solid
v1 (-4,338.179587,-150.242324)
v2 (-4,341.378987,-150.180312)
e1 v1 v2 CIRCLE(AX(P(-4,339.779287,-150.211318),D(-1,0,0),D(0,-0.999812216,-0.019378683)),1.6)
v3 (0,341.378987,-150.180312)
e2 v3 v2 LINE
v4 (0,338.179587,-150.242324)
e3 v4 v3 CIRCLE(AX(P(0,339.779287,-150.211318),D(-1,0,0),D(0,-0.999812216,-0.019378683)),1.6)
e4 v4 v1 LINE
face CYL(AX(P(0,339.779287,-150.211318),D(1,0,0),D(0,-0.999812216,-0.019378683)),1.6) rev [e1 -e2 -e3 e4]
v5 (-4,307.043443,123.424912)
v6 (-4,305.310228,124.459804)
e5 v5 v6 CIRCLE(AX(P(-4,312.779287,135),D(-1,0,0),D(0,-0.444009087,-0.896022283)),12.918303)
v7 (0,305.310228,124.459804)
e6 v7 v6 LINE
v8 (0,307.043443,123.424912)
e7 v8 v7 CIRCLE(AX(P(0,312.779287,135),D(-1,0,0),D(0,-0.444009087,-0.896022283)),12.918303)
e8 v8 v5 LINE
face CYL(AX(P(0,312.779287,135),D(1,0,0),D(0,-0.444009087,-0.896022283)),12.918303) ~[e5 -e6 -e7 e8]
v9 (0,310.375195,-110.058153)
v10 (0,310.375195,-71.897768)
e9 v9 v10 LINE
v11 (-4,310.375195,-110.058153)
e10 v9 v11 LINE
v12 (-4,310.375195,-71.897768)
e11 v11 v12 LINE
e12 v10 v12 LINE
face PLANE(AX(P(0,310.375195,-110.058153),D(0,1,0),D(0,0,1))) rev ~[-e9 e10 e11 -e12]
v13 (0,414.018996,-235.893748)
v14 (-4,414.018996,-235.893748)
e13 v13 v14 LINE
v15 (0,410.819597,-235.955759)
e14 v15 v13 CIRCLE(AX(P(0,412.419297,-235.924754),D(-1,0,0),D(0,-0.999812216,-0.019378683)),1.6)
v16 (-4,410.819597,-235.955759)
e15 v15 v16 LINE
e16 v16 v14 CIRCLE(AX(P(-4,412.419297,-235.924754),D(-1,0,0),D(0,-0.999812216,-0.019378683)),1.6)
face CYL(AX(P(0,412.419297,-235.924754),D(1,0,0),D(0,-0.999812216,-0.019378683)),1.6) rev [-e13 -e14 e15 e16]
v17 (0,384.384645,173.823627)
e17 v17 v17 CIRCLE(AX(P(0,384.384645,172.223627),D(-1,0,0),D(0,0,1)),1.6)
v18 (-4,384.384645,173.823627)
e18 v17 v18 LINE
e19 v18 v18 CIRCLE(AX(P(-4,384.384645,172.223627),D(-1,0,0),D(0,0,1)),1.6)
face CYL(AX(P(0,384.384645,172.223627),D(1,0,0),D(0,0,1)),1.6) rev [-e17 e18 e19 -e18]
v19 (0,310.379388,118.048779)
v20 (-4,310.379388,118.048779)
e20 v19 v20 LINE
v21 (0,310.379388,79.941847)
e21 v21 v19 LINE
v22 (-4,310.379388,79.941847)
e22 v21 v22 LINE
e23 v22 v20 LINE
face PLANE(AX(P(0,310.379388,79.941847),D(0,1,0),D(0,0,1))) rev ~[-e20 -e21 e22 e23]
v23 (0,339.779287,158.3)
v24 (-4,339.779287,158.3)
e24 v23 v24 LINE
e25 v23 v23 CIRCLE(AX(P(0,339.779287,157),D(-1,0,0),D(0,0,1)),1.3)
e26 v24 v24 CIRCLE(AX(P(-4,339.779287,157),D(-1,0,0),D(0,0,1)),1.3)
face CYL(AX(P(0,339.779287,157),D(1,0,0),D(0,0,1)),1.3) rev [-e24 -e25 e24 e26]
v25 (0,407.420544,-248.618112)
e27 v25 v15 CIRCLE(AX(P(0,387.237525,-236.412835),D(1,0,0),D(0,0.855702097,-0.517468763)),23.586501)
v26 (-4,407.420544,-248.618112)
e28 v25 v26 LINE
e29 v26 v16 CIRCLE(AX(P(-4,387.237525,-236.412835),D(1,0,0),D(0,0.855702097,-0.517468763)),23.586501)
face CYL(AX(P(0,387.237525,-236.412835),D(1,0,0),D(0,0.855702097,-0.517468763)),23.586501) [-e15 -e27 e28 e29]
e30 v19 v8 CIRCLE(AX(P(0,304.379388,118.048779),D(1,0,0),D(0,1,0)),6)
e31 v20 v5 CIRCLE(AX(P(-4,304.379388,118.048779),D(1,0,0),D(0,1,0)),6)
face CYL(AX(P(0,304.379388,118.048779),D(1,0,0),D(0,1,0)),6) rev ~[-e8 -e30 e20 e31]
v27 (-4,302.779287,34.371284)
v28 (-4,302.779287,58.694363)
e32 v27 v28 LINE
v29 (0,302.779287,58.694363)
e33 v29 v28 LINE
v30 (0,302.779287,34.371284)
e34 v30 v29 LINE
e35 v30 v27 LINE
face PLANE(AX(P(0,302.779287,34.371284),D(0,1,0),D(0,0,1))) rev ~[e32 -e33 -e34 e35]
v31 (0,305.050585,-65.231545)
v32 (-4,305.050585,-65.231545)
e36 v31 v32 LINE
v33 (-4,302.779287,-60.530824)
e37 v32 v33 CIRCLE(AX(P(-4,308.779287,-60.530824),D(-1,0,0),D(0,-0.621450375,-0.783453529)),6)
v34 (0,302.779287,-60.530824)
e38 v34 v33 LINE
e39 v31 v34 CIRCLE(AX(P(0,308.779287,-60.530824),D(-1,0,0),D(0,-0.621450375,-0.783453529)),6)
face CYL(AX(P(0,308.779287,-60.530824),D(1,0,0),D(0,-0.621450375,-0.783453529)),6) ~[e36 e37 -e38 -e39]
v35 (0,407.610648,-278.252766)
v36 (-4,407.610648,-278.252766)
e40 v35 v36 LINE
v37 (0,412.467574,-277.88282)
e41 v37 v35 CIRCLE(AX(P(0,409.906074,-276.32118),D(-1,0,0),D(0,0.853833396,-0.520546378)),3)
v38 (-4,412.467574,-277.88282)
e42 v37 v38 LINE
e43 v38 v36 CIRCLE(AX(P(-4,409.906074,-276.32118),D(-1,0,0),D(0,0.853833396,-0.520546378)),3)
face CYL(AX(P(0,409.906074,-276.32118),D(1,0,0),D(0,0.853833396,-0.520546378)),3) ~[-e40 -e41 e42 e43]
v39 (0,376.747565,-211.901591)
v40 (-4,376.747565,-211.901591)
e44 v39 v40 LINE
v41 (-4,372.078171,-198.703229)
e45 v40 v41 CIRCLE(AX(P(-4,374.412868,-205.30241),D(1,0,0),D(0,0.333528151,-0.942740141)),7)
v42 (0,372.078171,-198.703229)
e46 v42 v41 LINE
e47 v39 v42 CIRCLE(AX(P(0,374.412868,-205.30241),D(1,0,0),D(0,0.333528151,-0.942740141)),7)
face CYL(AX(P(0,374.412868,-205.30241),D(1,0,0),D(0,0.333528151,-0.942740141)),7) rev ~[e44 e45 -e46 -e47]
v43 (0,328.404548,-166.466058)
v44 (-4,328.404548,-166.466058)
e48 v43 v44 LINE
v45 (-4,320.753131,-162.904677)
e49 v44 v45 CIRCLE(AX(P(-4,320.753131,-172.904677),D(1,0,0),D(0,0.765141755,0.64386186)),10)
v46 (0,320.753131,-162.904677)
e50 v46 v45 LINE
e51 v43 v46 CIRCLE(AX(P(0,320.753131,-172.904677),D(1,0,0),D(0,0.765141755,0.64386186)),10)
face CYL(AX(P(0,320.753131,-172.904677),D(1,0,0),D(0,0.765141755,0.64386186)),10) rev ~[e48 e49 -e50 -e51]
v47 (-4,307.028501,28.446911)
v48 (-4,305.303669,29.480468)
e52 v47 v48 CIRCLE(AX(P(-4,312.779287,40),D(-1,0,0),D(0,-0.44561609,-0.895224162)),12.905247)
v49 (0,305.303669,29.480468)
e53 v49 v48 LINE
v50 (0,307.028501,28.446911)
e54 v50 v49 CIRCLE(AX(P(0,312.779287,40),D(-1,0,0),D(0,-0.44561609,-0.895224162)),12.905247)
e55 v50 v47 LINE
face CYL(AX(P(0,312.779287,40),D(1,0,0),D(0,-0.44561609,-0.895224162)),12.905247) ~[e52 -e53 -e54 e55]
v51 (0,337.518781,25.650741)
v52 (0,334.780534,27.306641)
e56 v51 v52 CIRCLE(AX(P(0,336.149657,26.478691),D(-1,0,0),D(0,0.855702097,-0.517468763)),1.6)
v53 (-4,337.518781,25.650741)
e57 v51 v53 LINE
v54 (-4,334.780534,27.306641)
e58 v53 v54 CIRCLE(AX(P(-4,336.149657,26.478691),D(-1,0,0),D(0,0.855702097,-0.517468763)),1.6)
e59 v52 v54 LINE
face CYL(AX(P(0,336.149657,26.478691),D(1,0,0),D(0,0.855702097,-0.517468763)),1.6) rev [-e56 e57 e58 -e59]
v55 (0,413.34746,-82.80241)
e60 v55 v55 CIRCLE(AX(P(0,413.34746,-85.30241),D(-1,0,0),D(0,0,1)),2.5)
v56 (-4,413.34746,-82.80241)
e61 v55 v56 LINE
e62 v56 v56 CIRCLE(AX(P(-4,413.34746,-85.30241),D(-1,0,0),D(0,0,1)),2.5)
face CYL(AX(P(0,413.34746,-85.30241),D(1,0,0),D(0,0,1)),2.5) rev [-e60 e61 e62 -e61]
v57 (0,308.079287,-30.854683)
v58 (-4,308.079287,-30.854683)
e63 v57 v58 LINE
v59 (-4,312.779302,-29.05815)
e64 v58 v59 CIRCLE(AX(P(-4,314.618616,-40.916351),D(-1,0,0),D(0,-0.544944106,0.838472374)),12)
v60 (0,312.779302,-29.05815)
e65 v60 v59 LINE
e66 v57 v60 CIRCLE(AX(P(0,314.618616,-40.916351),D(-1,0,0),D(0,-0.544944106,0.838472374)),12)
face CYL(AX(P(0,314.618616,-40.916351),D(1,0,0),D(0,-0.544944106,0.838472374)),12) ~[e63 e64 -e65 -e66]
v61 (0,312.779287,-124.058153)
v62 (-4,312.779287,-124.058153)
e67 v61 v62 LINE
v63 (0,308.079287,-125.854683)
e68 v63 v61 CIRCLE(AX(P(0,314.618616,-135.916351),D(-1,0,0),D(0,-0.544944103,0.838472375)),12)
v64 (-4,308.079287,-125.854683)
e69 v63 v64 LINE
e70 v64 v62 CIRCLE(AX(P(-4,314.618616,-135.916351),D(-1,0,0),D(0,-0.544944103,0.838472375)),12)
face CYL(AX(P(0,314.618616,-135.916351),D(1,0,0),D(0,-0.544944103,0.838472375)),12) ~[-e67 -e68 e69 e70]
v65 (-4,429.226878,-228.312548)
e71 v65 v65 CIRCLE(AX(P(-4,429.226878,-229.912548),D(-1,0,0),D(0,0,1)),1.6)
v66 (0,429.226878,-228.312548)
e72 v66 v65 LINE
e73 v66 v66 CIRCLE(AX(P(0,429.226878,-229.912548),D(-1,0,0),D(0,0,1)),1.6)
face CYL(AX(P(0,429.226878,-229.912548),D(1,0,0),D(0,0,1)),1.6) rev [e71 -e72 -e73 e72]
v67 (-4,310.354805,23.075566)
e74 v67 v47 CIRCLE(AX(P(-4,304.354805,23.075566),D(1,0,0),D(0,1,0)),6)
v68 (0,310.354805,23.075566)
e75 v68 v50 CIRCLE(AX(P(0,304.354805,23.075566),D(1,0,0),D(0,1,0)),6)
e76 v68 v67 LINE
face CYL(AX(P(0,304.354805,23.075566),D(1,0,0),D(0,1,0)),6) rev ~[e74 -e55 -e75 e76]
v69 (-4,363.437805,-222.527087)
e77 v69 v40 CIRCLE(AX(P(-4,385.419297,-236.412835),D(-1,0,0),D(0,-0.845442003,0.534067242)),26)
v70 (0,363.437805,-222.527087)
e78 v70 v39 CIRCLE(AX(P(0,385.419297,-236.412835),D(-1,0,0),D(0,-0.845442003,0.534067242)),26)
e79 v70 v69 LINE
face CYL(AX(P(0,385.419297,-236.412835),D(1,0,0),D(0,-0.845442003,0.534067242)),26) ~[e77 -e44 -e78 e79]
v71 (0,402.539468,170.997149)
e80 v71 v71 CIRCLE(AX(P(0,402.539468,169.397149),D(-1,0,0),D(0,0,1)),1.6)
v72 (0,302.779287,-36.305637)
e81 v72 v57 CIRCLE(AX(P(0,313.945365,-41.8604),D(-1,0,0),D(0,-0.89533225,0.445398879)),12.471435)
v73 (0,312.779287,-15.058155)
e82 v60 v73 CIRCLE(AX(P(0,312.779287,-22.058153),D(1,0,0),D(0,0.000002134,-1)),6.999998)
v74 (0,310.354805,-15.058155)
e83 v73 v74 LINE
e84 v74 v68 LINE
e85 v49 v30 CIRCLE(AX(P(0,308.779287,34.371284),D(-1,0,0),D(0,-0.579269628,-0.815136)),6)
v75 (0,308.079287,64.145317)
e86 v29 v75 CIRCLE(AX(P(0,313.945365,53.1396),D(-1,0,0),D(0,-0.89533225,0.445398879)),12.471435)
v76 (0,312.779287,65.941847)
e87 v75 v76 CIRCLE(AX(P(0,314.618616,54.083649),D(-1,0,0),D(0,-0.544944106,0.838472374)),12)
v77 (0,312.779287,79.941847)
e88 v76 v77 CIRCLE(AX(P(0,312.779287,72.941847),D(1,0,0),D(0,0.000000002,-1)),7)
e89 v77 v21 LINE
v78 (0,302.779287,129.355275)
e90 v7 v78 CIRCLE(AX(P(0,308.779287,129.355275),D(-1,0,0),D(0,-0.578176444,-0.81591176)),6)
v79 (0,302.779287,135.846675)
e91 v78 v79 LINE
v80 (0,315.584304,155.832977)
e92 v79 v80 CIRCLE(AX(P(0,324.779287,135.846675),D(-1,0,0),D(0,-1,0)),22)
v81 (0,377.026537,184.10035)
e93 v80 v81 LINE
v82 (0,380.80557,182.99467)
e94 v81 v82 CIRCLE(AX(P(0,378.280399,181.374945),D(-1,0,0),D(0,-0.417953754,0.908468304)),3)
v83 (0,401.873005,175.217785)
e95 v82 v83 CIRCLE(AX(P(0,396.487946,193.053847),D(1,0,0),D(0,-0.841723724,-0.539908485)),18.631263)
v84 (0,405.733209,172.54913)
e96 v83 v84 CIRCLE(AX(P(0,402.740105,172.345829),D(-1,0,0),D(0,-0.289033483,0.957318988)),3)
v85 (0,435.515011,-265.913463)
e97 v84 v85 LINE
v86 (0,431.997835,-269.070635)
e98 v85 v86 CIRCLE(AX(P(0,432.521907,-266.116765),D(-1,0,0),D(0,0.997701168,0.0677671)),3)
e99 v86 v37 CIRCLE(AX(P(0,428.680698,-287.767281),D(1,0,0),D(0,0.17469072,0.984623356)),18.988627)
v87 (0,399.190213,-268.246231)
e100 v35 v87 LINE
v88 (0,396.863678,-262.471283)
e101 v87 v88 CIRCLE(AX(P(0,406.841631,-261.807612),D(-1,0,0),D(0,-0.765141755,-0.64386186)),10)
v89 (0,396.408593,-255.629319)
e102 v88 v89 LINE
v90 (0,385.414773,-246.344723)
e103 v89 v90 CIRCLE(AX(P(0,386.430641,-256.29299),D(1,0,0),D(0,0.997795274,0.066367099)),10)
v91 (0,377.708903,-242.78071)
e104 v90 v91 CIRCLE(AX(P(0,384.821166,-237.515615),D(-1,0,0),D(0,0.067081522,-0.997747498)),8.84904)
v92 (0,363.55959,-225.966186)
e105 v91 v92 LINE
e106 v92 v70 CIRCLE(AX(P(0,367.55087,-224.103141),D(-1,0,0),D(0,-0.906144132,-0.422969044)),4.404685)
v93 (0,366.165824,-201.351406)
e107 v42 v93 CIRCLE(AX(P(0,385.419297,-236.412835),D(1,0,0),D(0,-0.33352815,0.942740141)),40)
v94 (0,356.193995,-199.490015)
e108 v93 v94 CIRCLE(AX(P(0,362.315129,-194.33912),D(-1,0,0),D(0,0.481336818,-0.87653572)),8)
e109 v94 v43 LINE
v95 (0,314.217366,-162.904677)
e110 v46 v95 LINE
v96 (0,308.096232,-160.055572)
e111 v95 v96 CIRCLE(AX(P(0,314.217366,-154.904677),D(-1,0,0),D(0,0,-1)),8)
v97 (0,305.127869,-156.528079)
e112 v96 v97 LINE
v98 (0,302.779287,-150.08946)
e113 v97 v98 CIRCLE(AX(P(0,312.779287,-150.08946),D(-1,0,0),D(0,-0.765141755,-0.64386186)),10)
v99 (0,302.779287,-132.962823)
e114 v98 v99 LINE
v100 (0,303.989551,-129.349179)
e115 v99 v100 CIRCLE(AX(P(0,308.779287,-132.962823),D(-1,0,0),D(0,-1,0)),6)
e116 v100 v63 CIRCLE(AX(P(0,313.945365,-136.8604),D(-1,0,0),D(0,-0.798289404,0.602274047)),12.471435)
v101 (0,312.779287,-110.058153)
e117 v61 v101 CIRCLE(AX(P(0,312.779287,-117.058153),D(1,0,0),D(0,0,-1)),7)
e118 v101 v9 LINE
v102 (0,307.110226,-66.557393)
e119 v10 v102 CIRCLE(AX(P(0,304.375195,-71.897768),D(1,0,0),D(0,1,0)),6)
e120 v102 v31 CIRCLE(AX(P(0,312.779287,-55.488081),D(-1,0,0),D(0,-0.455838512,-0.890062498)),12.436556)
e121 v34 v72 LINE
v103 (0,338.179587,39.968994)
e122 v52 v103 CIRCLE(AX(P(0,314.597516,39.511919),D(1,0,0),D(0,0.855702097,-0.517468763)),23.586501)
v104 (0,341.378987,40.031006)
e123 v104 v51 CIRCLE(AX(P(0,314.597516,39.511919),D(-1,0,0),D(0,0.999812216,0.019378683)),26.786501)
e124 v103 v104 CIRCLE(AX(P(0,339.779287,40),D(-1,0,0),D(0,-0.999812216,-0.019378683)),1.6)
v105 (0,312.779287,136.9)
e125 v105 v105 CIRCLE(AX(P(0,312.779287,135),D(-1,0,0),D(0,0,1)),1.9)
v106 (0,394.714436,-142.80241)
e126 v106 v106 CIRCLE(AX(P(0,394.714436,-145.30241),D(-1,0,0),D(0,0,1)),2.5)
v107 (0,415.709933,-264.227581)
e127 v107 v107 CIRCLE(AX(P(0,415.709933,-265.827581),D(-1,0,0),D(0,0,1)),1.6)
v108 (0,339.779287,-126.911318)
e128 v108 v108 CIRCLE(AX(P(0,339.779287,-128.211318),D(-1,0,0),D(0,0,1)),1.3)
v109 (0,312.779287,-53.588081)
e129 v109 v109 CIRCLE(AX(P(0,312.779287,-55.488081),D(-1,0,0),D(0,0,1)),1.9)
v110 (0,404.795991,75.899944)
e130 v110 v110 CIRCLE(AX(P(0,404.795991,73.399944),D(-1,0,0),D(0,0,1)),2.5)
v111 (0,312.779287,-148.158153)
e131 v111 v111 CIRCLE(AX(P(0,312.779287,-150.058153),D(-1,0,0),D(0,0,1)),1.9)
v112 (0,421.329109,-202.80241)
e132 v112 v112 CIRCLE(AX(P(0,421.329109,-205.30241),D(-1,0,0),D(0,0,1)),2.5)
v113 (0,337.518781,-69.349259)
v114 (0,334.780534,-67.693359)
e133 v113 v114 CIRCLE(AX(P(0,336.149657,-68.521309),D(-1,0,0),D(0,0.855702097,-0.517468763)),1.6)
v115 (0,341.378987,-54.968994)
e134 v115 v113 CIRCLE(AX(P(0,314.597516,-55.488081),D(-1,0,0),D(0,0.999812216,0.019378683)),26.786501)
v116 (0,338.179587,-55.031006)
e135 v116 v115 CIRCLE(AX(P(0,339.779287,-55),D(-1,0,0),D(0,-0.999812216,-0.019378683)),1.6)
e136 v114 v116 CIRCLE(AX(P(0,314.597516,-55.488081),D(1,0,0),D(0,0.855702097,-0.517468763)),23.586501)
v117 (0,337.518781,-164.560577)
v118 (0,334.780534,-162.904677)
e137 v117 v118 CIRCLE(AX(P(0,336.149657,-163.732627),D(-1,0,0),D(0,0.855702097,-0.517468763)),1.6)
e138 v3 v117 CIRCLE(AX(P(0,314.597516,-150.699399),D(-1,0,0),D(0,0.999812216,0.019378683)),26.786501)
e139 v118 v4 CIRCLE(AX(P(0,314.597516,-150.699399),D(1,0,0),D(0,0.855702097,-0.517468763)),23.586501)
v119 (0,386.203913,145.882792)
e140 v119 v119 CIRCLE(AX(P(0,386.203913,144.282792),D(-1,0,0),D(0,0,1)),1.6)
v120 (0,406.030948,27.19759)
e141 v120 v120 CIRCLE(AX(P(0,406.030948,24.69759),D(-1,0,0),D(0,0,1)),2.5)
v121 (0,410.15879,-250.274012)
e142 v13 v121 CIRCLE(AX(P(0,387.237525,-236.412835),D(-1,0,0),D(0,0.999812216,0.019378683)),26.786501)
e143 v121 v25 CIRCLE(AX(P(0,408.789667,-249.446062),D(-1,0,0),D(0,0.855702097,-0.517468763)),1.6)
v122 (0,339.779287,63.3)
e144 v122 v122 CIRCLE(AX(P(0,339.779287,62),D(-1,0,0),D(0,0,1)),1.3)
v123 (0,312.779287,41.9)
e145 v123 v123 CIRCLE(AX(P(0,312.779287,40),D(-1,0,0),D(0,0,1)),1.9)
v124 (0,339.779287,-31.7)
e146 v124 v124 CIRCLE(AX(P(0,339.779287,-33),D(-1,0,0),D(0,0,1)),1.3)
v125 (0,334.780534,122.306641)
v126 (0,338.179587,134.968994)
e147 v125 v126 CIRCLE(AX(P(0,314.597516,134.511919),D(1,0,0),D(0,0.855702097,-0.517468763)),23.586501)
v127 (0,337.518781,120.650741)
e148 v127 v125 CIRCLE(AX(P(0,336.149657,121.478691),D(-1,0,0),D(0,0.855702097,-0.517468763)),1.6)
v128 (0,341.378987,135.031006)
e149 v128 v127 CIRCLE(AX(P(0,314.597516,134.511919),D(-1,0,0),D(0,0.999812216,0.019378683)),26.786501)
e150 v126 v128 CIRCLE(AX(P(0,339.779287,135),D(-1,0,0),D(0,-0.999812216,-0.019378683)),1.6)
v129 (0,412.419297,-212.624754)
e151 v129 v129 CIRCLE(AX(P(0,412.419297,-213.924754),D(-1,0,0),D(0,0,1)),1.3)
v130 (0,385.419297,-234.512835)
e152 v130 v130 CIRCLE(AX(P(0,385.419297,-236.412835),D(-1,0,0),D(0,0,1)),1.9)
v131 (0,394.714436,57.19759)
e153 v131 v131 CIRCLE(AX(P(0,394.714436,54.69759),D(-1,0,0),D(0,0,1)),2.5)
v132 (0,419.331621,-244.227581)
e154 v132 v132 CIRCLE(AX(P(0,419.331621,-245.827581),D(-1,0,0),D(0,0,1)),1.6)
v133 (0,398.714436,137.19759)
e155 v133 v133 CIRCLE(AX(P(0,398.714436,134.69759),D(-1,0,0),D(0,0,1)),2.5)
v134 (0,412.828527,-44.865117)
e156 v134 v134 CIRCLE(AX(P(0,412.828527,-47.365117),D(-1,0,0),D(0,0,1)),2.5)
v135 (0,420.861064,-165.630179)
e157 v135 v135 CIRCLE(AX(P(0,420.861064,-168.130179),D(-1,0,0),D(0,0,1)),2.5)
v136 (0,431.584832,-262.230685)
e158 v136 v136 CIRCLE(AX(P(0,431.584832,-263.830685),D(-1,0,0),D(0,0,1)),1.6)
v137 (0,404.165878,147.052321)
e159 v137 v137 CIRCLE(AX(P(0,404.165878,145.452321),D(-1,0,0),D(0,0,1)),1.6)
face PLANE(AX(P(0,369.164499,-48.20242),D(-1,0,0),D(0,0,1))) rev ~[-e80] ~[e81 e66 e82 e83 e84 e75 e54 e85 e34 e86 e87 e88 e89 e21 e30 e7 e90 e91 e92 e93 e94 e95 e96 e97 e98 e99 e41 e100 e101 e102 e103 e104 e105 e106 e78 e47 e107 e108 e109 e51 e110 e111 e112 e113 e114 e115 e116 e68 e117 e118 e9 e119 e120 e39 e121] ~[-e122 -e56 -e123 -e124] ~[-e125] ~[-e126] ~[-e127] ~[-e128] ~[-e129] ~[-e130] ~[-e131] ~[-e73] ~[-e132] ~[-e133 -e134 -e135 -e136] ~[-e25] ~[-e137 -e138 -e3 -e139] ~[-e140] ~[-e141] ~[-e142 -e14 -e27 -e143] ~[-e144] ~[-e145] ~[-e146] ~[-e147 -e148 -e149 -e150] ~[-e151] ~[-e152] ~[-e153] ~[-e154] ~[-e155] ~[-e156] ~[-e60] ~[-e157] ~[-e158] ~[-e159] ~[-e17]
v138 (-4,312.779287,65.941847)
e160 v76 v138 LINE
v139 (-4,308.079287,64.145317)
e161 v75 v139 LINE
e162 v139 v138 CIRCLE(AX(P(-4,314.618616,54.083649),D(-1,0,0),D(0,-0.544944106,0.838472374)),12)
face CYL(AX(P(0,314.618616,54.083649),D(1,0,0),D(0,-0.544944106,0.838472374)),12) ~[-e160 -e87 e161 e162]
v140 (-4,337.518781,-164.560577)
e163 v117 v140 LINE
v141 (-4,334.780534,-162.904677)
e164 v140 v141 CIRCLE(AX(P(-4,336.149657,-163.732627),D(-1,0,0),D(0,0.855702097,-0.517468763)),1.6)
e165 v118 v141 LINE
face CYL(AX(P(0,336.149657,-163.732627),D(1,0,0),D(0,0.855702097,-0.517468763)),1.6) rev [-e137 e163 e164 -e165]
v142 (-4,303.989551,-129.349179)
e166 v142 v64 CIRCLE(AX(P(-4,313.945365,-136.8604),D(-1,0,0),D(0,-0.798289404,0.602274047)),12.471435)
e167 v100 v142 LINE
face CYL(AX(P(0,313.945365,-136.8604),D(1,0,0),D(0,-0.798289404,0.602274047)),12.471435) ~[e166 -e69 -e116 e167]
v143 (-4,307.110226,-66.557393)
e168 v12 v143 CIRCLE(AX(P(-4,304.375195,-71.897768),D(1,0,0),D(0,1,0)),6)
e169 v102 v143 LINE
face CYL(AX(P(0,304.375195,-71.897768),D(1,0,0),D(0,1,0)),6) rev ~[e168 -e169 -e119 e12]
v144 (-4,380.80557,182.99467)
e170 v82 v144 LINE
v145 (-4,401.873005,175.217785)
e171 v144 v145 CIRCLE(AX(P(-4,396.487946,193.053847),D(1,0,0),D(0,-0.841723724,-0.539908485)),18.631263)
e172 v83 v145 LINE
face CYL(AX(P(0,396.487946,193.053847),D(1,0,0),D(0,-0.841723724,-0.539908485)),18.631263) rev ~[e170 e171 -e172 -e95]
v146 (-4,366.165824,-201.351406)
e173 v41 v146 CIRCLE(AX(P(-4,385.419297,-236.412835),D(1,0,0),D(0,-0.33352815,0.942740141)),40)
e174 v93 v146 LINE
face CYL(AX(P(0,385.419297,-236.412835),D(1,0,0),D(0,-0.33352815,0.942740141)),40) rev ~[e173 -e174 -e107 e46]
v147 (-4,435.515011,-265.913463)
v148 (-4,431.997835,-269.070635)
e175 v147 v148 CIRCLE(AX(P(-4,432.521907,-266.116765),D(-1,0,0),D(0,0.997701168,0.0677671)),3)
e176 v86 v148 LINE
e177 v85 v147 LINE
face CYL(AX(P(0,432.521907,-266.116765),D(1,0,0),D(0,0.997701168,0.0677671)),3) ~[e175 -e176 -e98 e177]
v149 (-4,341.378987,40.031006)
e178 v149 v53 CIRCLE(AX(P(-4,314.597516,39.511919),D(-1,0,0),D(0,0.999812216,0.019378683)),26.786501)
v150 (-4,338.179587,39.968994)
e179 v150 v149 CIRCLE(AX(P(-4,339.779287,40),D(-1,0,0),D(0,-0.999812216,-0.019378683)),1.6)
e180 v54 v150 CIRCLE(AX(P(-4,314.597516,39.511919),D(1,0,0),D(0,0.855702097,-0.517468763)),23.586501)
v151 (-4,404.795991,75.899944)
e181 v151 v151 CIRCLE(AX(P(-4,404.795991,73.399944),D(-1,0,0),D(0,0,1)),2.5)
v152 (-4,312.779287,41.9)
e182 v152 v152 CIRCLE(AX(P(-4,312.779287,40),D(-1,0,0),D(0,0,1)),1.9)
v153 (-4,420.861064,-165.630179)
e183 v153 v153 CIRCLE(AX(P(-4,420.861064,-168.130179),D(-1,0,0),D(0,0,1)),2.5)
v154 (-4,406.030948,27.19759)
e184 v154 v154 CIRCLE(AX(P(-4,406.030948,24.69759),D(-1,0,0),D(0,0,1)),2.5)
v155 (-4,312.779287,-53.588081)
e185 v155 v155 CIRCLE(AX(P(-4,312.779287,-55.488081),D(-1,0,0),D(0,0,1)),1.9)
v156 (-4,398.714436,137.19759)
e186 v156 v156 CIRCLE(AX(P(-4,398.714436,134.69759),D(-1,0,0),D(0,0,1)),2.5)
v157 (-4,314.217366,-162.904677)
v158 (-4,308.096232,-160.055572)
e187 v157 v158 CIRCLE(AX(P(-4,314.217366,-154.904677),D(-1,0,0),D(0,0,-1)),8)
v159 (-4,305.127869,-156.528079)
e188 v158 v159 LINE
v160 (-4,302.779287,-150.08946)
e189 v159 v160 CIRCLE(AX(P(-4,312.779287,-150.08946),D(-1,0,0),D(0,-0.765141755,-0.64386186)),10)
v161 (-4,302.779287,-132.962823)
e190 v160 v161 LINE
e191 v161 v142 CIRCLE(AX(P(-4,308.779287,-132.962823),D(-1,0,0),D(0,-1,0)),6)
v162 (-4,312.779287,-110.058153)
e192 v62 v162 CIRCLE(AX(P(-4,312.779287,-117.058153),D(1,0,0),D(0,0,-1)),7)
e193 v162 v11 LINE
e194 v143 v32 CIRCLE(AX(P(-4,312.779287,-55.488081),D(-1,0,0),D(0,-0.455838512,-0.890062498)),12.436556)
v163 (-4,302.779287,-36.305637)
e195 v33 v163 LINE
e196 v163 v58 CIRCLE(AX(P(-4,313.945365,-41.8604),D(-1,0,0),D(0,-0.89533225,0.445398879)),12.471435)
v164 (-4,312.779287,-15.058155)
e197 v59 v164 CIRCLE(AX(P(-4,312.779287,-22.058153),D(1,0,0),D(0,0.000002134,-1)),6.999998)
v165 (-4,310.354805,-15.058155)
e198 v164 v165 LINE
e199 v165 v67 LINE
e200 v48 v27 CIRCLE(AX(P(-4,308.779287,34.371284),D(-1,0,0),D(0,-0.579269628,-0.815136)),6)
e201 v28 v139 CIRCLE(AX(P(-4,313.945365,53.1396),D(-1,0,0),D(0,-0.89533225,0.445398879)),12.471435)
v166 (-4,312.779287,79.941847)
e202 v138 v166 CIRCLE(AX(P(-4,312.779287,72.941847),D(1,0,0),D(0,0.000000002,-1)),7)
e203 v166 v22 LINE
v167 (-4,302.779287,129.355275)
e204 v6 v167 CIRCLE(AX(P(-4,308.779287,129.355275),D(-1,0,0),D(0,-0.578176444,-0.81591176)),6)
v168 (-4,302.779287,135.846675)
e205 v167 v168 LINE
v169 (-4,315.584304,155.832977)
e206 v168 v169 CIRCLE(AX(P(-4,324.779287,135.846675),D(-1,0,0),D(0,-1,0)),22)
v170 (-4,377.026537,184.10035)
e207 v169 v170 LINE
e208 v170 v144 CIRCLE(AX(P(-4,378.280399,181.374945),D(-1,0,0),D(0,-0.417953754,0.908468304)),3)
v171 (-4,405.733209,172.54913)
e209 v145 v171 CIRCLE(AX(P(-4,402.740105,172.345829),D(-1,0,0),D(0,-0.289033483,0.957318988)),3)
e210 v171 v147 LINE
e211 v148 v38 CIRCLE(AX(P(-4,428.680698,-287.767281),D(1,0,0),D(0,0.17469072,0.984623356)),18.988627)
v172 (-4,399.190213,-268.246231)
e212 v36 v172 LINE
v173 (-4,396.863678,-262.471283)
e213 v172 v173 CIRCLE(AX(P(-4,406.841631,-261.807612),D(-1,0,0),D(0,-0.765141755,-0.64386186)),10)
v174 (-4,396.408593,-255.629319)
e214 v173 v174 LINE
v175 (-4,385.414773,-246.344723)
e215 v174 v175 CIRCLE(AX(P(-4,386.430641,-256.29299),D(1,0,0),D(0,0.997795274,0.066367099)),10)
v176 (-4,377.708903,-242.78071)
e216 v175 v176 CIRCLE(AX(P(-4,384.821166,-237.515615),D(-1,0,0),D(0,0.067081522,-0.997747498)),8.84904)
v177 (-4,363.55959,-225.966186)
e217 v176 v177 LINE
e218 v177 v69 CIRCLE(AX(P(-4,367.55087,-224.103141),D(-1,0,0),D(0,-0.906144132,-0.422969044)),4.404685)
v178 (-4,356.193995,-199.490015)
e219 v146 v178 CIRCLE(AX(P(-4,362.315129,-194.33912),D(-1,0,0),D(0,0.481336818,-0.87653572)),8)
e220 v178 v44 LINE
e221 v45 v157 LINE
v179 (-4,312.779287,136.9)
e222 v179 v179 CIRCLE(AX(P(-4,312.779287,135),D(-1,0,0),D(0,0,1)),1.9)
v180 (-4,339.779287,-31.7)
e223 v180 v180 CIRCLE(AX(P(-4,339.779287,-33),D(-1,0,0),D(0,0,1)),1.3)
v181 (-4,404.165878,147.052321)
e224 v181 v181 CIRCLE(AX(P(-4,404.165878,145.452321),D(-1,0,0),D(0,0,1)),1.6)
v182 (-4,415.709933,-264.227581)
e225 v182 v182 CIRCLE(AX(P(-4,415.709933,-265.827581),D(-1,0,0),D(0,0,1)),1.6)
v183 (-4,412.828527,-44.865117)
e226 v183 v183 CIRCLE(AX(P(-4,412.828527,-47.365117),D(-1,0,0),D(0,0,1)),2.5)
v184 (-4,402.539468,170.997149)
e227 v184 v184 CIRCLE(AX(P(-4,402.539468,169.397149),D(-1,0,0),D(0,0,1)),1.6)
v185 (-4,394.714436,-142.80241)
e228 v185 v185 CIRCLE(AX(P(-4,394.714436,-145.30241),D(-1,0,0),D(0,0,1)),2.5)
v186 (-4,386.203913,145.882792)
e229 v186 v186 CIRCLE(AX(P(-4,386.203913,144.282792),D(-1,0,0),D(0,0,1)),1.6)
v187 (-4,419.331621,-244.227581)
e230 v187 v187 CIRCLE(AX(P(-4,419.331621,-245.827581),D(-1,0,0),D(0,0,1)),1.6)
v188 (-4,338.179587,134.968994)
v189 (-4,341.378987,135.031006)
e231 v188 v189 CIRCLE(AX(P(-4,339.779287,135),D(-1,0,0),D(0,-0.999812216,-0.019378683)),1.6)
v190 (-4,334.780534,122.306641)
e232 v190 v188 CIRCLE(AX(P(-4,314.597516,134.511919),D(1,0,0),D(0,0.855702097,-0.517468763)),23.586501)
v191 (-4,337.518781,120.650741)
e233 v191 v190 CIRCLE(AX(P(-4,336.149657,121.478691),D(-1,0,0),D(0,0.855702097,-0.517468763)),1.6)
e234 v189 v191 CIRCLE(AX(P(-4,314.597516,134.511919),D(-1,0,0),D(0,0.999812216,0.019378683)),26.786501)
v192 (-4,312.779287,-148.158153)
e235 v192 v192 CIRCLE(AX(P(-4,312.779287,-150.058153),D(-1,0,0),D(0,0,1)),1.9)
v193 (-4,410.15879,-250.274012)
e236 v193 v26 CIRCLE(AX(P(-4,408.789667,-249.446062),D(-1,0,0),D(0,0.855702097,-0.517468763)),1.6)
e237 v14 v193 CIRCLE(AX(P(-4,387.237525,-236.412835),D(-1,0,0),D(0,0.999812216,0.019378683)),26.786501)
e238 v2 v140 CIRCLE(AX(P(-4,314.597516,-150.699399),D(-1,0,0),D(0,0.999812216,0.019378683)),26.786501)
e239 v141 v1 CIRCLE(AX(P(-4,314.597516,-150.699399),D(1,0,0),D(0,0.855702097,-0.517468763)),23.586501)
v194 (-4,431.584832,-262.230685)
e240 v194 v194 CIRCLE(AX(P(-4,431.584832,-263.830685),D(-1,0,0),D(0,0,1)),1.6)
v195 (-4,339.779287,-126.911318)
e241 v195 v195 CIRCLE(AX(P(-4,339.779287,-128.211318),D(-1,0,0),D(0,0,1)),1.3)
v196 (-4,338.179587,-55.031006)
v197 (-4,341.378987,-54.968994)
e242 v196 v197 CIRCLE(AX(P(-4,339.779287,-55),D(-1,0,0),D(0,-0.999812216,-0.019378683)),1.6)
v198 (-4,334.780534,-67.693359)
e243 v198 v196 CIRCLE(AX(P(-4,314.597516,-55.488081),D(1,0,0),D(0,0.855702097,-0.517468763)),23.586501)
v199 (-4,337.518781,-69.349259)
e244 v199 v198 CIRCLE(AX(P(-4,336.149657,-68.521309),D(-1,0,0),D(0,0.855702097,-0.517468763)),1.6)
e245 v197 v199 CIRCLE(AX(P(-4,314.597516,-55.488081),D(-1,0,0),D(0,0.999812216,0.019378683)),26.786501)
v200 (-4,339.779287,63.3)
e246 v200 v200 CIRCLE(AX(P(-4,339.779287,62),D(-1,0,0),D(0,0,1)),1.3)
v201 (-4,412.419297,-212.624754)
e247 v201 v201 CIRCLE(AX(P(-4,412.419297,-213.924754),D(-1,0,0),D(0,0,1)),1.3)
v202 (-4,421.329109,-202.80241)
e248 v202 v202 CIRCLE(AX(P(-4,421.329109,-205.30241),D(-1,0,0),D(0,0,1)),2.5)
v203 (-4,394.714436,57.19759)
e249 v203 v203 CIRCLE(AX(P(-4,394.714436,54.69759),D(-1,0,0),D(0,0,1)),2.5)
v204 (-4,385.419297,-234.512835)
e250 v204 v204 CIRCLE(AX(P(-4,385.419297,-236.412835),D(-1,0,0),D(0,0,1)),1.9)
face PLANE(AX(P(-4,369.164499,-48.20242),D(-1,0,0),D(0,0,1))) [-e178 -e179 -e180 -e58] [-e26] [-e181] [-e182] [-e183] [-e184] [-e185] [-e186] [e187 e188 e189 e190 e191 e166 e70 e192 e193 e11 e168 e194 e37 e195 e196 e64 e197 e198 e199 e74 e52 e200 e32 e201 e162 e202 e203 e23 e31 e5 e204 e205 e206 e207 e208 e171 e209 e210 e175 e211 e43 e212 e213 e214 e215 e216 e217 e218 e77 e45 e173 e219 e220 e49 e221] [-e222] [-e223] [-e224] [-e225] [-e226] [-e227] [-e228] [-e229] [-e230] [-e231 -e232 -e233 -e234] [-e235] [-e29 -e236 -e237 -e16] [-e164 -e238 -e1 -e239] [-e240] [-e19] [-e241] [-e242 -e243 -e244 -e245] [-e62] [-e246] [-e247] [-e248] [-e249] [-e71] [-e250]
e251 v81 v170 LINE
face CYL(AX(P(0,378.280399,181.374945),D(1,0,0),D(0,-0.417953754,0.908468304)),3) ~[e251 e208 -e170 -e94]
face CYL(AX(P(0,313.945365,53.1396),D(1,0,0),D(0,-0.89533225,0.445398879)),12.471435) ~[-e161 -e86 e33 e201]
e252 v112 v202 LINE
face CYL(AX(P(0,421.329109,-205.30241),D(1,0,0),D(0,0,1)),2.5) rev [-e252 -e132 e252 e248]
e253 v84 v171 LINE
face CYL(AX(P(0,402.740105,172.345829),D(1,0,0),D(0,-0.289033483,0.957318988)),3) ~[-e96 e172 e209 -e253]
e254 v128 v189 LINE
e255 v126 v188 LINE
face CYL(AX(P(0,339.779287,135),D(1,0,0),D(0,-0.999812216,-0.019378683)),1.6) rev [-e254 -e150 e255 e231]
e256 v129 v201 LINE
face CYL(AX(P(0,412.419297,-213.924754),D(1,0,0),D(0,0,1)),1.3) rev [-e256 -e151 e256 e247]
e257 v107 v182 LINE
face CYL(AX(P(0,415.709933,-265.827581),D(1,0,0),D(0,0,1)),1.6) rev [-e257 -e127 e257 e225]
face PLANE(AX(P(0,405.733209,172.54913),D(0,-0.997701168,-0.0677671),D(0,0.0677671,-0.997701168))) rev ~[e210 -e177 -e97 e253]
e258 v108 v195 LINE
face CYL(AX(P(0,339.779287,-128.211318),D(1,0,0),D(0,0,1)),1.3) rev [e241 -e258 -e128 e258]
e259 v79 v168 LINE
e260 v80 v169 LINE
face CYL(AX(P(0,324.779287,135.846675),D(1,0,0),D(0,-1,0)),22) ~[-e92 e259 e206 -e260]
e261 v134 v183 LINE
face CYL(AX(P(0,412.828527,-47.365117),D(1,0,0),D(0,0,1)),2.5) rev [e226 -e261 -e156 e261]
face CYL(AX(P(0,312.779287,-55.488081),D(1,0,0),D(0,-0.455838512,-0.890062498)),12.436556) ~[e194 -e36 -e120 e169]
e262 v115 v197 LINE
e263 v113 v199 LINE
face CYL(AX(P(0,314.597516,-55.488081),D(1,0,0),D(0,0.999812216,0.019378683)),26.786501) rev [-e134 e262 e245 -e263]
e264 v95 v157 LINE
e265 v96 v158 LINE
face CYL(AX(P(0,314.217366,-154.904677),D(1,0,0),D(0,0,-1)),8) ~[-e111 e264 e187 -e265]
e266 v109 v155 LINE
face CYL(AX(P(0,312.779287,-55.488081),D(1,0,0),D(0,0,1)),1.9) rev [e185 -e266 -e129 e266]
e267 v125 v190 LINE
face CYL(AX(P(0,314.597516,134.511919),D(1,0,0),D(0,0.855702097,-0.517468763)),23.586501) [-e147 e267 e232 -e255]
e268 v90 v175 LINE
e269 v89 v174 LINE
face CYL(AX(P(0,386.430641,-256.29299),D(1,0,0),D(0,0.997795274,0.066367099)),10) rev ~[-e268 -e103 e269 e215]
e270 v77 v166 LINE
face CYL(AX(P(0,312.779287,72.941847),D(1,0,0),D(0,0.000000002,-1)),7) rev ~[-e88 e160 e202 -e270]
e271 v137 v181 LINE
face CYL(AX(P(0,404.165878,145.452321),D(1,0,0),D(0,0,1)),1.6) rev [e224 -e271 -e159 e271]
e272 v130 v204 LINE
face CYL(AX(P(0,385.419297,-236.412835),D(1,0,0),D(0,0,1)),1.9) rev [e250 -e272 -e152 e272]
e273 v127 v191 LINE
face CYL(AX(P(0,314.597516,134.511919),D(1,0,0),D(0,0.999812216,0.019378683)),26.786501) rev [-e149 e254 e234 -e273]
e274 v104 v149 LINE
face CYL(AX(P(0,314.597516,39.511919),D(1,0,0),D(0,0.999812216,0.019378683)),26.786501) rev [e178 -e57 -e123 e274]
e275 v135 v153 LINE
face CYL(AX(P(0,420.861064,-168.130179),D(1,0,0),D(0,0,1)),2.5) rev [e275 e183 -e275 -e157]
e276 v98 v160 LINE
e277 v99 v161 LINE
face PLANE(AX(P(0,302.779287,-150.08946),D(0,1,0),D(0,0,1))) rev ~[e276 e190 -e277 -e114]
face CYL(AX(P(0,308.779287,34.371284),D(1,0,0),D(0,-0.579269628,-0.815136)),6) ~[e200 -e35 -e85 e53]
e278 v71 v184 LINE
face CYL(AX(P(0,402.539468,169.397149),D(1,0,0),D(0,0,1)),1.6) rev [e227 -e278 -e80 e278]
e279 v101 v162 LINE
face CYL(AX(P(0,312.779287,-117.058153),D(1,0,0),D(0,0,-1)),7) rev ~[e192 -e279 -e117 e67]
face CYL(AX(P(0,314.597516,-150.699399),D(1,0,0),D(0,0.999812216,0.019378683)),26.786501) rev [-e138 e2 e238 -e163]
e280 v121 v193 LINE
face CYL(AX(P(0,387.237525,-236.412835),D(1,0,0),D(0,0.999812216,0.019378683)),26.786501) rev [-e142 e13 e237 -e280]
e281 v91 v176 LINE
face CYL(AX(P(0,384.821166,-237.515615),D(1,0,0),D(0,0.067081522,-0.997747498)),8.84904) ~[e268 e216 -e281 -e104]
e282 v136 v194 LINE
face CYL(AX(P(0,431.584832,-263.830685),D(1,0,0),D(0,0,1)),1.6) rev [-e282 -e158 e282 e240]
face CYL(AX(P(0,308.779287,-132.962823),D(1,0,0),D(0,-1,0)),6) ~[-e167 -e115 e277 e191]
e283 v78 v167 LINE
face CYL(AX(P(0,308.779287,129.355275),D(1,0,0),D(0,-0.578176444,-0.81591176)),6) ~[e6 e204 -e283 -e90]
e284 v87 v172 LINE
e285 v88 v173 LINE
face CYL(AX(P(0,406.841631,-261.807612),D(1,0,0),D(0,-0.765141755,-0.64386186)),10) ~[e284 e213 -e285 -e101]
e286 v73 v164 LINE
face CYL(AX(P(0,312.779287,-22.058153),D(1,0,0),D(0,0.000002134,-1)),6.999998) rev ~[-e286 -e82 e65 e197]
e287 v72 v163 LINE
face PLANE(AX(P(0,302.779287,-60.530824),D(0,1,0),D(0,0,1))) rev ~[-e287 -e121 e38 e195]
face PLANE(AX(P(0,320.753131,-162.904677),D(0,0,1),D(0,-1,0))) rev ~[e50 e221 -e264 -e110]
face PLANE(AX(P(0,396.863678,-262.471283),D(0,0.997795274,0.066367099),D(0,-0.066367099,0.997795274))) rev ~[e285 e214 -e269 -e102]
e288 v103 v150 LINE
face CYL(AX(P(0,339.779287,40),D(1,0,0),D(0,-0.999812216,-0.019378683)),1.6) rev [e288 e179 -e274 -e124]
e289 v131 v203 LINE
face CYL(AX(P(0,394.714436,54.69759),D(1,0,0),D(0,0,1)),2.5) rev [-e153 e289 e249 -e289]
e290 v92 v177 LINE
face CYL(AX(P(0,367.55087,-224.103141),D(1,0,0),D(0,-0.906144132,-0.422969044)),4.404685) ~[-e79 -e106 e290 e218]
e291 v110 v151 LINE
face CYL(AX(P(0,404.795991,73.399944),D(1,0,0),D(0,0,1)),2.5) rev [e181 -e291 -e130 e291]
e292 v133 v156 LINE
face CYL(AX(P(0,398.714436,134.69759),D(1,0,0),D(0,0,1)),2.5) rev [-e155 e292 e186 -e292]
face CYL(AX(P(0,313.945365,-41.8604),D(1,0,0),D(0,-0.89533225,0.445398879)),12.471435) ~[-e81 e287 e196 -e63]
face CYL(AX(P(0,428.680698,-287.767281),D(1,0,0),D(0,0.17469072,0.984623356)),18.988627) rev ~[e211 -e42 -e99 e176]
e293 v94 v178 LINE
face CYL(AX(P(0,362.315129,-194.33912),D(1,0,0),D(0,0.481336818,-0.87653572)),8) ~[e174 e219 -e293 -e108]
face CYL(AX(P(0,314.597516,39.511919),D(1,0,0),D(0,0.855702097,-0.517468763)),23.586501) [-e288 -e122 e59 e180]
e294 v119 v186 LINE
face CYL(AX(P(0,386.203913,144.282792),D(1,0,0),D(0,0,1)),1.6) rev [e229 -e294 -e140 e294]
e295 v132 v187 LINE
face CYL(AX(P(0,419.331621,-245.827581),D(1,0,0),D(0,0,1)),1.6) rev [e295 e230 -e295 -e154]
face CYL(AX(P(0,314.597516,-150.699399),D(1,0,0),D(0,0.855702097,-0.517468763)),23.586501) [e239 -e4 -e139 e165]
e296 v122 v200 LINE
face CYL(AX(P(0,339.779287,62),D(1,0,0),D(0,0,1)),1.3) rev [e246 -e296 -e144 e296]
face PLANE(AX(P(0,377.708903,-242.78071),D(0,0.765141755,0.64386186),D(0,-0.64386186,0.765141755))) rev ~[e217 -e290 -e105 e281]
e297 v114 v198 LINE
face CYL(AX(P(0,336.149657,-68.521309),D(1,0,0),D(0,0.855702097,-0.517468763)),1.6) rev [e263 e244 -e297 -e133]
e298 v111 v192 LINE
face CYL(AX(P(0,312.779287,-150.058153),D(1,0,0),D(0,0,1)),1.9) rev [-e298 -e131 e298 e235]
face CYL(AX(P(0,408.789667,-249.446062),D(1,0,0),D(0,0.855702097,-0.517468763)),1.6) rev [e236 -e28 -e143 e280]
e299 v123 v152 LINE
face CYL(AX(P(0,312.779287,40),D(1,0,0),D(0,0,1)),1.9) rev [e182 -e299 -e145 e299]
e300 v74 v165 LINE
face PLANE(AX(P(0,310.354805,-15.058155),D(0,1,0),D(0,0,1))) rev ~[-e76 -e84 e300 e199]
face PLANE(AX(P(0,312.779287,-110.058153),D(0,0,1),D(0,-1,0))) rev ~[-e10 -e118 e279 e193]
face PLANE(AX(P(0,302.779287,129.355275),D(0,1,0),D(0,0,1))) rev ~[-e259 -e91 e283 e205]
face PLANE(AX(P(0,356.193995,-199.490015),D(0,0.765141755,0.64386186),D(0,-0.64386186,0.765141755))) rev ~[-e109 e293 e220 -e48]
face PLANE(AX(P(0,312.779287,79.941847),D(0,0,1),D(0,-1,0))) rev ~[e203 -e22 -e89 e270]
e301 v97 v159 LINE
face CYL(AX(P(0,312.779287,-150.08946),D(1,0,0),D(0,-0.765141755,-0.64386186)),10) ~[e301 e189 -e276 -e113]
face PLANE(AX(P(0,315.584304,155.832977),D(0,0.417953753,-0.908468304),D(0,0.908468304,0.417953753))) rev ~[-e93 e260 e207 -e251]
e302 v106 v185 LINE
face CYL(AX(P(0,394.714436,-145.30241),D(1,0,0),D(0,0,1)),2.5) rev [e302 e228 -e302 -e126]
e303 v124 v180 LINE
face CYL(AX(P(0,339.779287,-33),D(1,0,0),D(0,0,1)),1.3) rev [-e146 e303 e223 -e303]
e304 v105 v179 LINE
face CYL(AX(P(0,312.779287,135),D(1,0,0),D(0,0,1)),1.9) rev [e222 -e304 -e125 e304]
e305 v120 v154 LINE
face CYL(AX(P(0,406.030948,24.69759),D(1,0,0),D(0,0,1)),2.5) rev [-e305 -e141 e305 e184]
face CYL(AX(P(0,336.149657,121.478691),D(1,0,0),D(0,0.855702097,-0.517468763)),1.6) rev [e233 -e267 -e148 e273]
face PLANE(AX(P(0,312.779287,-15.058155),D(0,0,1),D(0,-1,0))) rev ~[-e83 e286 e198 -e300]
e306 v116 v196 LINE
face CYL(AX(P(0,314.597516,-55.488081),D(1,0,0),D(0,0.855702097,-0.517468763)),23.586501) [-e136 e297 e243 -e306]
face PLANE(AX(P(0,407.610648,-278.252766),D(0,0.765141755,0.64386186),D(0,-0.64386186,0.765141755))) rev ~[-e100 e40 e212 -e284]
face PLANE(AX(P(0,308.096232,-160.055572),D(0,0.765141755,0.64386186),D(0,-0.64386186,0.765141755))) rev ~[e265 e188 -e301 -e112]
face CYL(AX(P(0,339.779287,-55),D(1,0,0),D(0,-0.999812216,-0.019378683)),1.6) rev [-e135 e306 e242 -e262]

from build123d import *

# Parameters (mm, degrees)
SKETCH_1_R      = 2.5
SKETCH_1_R_2    = 1.6
SKETCH_1_R_3    = 1.3
SKETCH_1_R_4    = 1.9
EXTRUDE_1_DEPTH = 4


with BuildPart() as part:
    # 草图1 → 凸台-拉伸1 (new body)
    with BuildSketch(Plane.ZY):
        with BuildLine():
            Line((79.941847196, 312.779286974), (79.941847196, 310.37938842))
            Line((79.941847196, 310.37938842), (118.048778684, 310.37938842))
            ThreePointArc((118.048778684, 310.37938842), (121.212295154, 309.477639448), (123.424912382, 307.043442935))
            ThreePointArc((123.424912382, 307.043442935), (123.908451597, 306.156590075), (124.459804418, 305.310228312))
            ThreePointArc((124.459804418, 305.310228312), (126.599767036, 303.449448704), (129.355274977, 302.779286974))
            Line((129.355274977, 302.779286974), (135.846674735, 302.779286974))
            ThreePointArc((135.846674735, 302.779286974), (147.714917725, 306.255118752), (155.832977431, 315.5843044))
            Line((155.832977431, 315.5843044), (184.100349844, 377.02653737))
            ThreePointArc((184.100349844, 377.02653737), (184.25423495, 379.122829036), (182.994670387, 380.805569803))
            ThreePointArc((182.994670387, 380.805569803), (175.575423742, 390.035917566), (175.217785471, 401.873004854))
            ThreePointArc((175.217785471, 401.873004854), (174.813539386, 404.446095635), (172.549129806, 405.733208807))
            Line((172.549129806, 405.733208807), (-265.913463366, 435.515010668))
            ThreePointArc((-265.913463366, 435.515010668), (-268.349260645, 434.525893618), (-269.070634733, 431.997835004))
            ThreePointArc((-269.070634733, 431.997835004), (-270.458967767, 420.871071163), (-277.882819523, 412.467573839))
            ThreePointArc((-277.882819523, 412.467573839), (-279.312515533, 410.13392022), (-278.252765969, 407.610648385))
            Line((-278.252765969, 407.610648385), (-268.246230566, 399.190213281))
            ThreePointArc((-268.246230566, 399.190213281), (-265.544431584, 397.566061892), (-262.471282959, 396.863678095))
            Line((-262.471282959, 396.863678095), (-255.629318556, 396.408593428))
            ThreePointArc((-255.629318556, 396.408593428), (-248.6530075, 392.882824378), (-246.344722675, 385.41477346))
            ThreePointArc((-246.344722675, 385.41477346), (-245.547224173, 381.106497376), (-242.780709967, 377.708903254))
            Line((-242.780709967, 377.708903254), (-225.96618646, 363.559589999))
            ThreePointArc((-225.96618646, 363.559589999), (-224.259021966, 363.148943594), (-222.527086507, 363.437804541))
            ThreePointArc((-222.527086507, 363.437804541), (-216.093640019, 369.198004343), (-211.901591148, 376.74756471))
            ThreePointArc((-211.901591148, 376.74756471), (-202.96771311, 381.012048641), (-198.703229179, 372.078170603))
            ThreePointArc((-198.703229179, 372.078170603), (-199.907426668, 369.068297365), (-201.351406018, 366.165823913))
            ThreePointArc((-201.351406018, 366.165823913), (-202.203284687, 360.847165515), (-199.49001514, 356.193995329))
            Line((-199.49001514, 356.193995329), (-166.466058225, 328.404548243))
            ThreePointArc((-166.466058225, 328.404548243), (-163.838636178, 324.972953793), (-162.904676824, 320.753130691))
            Line((-162.904676824, 320.753130691), (-162.904676824, 314.217366152))
            ThreePointArc((-162.904676824, 314.217366152), (-162.15750934, 310.841507671), (-160.055571702, 308.096232111))
            Line((-160.055571702, 308.096232111), (-156.52807865, 305.127869423))
            ThreePointArc((-156.52807865, 305.127869423), (-153.516253341, 303.384762625), (-150.089460052, 302.779286974))
            Line((-150.089460052, 302.779286974), (-132.962822931, 302.779286974))
            ThreePointArc((-132.962822931, 302.779286974), (-131.057359543, 303.089892518), (-129.349178653, 303.989550548))
            ThreePointArc((-129.349178653, 303.989550548), (-127.378799895, 305.843763559), (-125.854682643, 308.079286974))
            ThreePointArc((-125.854682643, 308.079286974), (-124.70730834, 310.334067306), (-124.058152804, 312.779286974))
            ThreePointArc((-124.058152804, 312.779286974), (-117.058152804, 319.779286974), (-110.058152804, 312.779286974))
            Line((-110.058152804, 312.779286974), (-110.058152804, 310.375194841))
            Line((-110.058152804, 310.375194841), (-71.897768127, 310.375194841))
            ThreePointArc((-71.897768127, 310.375194841), (-68.768086545, 309.494285893), (-66.557393134, 307.110225907))
            ThreePointArc((-66.557393134, 307.110225907), (-65.945300527, 306.047683601), (-65.231544729, 305.050584724))
            ThreePointArc((-65.231544729, 305.050584724), (-63.141167069, 303.376870223), (-60.530823557, 302.779286974))
            Line((-60.530823557, 302.779286974), (-36.305637158, 302.779286974))
            ThreePointArc((-36.305637158, 302.779286974), (-33.16644373, 305.003787341), (-30.854682657, 308.079286974))
            ThreePointArc((-30.854682657, 308.079286974), (-29.707305648, 310.334074366), (-29.058150487, 312.779301913))
            ThreePointArc((-29.058150487, 312.779301913), (-22.058145334, 319.779284657), (-15.058155121, 312.779286974))
            Line((-15.058155121, 312.779286974), (-15.058155121, 310.354804619))
            Line((-15.058155121, 310.354804619), (23.075565874, 310.354804619))
            ThreePointArc((23.075565874, 310.354804619), (26.234507213, 309.455891721), (28.446910847, 307.028501158))
            ThreePointArc((28.446910847, 307.028501158), (28.930044794, 306.145924462), (29.48046838, 305.303669209))
            ThreePointArc((29.48046838, 305.303669209), (31.619349297, 303.447603066), (34.37128438, 302.779286974))
            Line((34.37128438, 302.779286974), (58.694362842, 302.779286974))
            ThreePointArc((58.694362842, 302.779286974), (61.833556273, 305.00378734), (64.14531735, 308.079286974))
            ThreePointArc((64.14531735, 308.079286974), (65.292691668, 310.334067319), (65.941847214, 312.779287004))
            ThreePointArc((65.941847214, 312.779287004), (72.94184722, 319.77928698), (79.941847196, 312.779286974))
        make_face()
        with Locations((134.697589837, 398.714435962)):
            Circle(SKETCH_1_R, mode=Mode.SUBTRACT)
        with Locations((-205.302410163, 421.329108832)):
            Circle(SKETCH_1_R, mode=Mode.SUBTRACT)
        with Locations((24.697589837, 406.030947773)):
            Circle(SKETCH_1_R, mode=Mode.SUBTRACT)
        with Locations((54.697589837, 394.714435962)):
            Circle(SKETCH_1_R, mode=Mode.SUBTRACT)
        with Locations((-145.302410163, 394.714435962)):
            Circle(SKETCH_1_R, mode=Mode.SUBTRACT)
        with Locations((-85.302410163, 413.347459584)):
            Circle(SKETCH_1_R, mode=Mode.SUBTRACT)
        with Locations((-229.912547558, 429.226877683)):
            Circle(SKETCH_1_R_2, mode=Mode.SUBTRACT)
        with Locations((-263.830685058, 431.584832)):
            Circle(SKETCH_1_R_2, mode=Mode.SUBTRACT)
        with Locations((-245.82758059, 419.331621378)):
            Circle(SKETCH_1_R_2, mode=Mode.SUBTRACT)
        with Locations((-213.924753581, 412.419296618)):
            Circle(SKETCH_1_R_3, mode=Mode.SUBTRACT)
        with Locations((-265.82758059, 415.709933316)):
            Circle(SKETCH_1_R_2, mode=Mode.SUBTRACT)
        with Locations((145.452321386, 404.165877908)):
            Circle(SKETCH_1_R_2, mode=Mode.SUBTRACT)
        with Locations((172.223627163, 384.384644706)):
            Circle(SKETCH_1_R_2, mode=Mode.SUBTRACT)
        with Locations((169.397149412, 402.539467503)):
            Circle(SKETCH_1_R_2, mode=Mode.SUBTRACT)
        with Locations((144.282792088, 386.203912503)):
            Circle(SKETCH_1_R_2, mode=Mode.SUBTRACT)
        with Locations((-236.412834805, 385.419296624)):
            Circle(SKETCH_1_R_4, mode=Mode.SUBTRACT)
        with Locations((-128.211318153, 339.779286974)):
            Circle(SKETCH_1_R_3, mode=Mode.SUBTRACT)
        with Locations((62, 339.779286968)):
            Circle(SKETCH_1_R_3, mode=Mode.SUBTRACT)
        with Locations((40, 312.779286974)):
            Circle(SKETCH_1_R_4, mode=Mode.SUBTRACT)
        with Locations((-47.3651173, 412.828527404)):
            Circle(SKETCH_1_R, mode=Mode.SUBTRACT)
        with Locations((-55.488081224, 312.779286974)):
            Circle(SKETCH_1_R_4, mode=Mode.SUBTRACT)
        with Locations((-33, 339.779286968)):
            Circle(SKETCH_1_R_3, mode=Mode.SUBTRACT)
        with Locations((-168.130178692, 420.86106375)):
            Circle(SKETCH_1_R, mode=Mode.SUBTRACT)
        with Locations((73.399944092, 404.795991058)):
            Circle(SKETCH_1_R, mode=Mode.SUBTRACT)
        with Locations((157, 339.779286968)):
            Circle(SKETCH_1_R_3, mode=Mode.SUBTRACT)
        with Locations((-150.058152804, 312.779286974)):
            Circle(SKETCH_1_R_4, mode=Mode.SUBTRACT)
        with Locations((135, 312.779286974)):
            Circle(SKETCH_1_R_4, mode=Mode.SUBTRACT)
        with BuildLine():
            ThreePointArc((-235.893747688, 414.018996163), (-243.357483185, 413.10813588), (-250.274012295, 410.158790343))
            ThreePointArc((-250.274012295, 410.158790343), (-250.815185629, 407.961716967), (-248.618112252, 407.420543633))
            ThreePointArc((-248.618112252, 407.420543633), (-242.527853555, 410.017551036), (-235.955759474, 410.819597073))
            ThreePointArc((-235.955759474, 410.819597073), (-234.325054036, 412.388290724), (-235.893747688, 414.018996163))
        make_face(mode=Mode.SUBTRACT)
        with BuildLine():
            ThreePointArc((-54.968994107, 341.378986513), (-62.432729604, 340.468126231), (-69.349258714, 337.518780694))
            ThreePointArc((-69.349258714, 337.518780694), (-69.890432048, 335.321707317), (-67.693358671, 334.780533983))
            ThreePointArc((-67.693358671, 334.780533983), (-61.603099974, 337.377541387), (-55.031005893, 338.179587423))
            ThreePointArc((-55.031005893, 338.179587423), (-53.400300455, 339.748281075), (-54.968994107, 341.378986513))
        make_face(mode=Mode.SUBTRACT)
        with BuildLine():
            ThreePointArc((-150.180312259, 341.378986519), (-157.644047756, 340.468126237), (-164.560576866, 337.5187807))
            ThreePointArc((-164.560576866, 337.5187807), (-165.1017502, 335.321707323), (-162.904676824, 334.780533989))
            ThreePointArc((-162.904676824, 334.780533989), (-156.814418127, 337.377541393), (-150.242324046, 338.179587429))
            ThreePointArc((-150.242324046, 338.179587429), (-148.611618608, 339.748281081), (-150.180312259, 341.378986519))
        make_face(mode=Mode.SUBTRACT)
        with BuildLine():
            ThreePointArc((40.031005893, 341.378986519), (32.567270396, 340.468126237), (25.650741286, 337.5187807))
            ThreePointArc((25.650741286, 337.5187807), (25.109567952, 335.321707323), (27.306641329, 334.780533989))
            ThreePointArc((27.306641329, 334.780533989), (33.396900026, 337.377541393), (39.968994107, 338.179587429))
            ThreePointArc((39.968994107, 338.179587429), (41.599699545, 339.748281081), (40.031005893, 341.378986519))
        make_face(mode=Mode.SUBTRACT)
        with BuildLine():
            ThreePointArc((135.031005893, 341.378986513), (127.567270396, 340.468126231), (120.650741287, 337.518780694))
            ThreePointArc((120.650741287, 337.518780694), (120.109567952, 335.321707317), (122.306641329, 334.780533983))
            ThreePointArc((122.306641329, 334.780533983), (128.396900026, 337.377541387), (134.968994107, 338.179587423))
            ThreePointArc((134.968994107, 338.179587423), (136.599699545, 339.748281075), (135.031005893, 341.378986513))
        make_face(mode=Mode.SUBTRACT)
    extrude(amount=EXTRUDE_1_DEPTH)


solid = part.part
